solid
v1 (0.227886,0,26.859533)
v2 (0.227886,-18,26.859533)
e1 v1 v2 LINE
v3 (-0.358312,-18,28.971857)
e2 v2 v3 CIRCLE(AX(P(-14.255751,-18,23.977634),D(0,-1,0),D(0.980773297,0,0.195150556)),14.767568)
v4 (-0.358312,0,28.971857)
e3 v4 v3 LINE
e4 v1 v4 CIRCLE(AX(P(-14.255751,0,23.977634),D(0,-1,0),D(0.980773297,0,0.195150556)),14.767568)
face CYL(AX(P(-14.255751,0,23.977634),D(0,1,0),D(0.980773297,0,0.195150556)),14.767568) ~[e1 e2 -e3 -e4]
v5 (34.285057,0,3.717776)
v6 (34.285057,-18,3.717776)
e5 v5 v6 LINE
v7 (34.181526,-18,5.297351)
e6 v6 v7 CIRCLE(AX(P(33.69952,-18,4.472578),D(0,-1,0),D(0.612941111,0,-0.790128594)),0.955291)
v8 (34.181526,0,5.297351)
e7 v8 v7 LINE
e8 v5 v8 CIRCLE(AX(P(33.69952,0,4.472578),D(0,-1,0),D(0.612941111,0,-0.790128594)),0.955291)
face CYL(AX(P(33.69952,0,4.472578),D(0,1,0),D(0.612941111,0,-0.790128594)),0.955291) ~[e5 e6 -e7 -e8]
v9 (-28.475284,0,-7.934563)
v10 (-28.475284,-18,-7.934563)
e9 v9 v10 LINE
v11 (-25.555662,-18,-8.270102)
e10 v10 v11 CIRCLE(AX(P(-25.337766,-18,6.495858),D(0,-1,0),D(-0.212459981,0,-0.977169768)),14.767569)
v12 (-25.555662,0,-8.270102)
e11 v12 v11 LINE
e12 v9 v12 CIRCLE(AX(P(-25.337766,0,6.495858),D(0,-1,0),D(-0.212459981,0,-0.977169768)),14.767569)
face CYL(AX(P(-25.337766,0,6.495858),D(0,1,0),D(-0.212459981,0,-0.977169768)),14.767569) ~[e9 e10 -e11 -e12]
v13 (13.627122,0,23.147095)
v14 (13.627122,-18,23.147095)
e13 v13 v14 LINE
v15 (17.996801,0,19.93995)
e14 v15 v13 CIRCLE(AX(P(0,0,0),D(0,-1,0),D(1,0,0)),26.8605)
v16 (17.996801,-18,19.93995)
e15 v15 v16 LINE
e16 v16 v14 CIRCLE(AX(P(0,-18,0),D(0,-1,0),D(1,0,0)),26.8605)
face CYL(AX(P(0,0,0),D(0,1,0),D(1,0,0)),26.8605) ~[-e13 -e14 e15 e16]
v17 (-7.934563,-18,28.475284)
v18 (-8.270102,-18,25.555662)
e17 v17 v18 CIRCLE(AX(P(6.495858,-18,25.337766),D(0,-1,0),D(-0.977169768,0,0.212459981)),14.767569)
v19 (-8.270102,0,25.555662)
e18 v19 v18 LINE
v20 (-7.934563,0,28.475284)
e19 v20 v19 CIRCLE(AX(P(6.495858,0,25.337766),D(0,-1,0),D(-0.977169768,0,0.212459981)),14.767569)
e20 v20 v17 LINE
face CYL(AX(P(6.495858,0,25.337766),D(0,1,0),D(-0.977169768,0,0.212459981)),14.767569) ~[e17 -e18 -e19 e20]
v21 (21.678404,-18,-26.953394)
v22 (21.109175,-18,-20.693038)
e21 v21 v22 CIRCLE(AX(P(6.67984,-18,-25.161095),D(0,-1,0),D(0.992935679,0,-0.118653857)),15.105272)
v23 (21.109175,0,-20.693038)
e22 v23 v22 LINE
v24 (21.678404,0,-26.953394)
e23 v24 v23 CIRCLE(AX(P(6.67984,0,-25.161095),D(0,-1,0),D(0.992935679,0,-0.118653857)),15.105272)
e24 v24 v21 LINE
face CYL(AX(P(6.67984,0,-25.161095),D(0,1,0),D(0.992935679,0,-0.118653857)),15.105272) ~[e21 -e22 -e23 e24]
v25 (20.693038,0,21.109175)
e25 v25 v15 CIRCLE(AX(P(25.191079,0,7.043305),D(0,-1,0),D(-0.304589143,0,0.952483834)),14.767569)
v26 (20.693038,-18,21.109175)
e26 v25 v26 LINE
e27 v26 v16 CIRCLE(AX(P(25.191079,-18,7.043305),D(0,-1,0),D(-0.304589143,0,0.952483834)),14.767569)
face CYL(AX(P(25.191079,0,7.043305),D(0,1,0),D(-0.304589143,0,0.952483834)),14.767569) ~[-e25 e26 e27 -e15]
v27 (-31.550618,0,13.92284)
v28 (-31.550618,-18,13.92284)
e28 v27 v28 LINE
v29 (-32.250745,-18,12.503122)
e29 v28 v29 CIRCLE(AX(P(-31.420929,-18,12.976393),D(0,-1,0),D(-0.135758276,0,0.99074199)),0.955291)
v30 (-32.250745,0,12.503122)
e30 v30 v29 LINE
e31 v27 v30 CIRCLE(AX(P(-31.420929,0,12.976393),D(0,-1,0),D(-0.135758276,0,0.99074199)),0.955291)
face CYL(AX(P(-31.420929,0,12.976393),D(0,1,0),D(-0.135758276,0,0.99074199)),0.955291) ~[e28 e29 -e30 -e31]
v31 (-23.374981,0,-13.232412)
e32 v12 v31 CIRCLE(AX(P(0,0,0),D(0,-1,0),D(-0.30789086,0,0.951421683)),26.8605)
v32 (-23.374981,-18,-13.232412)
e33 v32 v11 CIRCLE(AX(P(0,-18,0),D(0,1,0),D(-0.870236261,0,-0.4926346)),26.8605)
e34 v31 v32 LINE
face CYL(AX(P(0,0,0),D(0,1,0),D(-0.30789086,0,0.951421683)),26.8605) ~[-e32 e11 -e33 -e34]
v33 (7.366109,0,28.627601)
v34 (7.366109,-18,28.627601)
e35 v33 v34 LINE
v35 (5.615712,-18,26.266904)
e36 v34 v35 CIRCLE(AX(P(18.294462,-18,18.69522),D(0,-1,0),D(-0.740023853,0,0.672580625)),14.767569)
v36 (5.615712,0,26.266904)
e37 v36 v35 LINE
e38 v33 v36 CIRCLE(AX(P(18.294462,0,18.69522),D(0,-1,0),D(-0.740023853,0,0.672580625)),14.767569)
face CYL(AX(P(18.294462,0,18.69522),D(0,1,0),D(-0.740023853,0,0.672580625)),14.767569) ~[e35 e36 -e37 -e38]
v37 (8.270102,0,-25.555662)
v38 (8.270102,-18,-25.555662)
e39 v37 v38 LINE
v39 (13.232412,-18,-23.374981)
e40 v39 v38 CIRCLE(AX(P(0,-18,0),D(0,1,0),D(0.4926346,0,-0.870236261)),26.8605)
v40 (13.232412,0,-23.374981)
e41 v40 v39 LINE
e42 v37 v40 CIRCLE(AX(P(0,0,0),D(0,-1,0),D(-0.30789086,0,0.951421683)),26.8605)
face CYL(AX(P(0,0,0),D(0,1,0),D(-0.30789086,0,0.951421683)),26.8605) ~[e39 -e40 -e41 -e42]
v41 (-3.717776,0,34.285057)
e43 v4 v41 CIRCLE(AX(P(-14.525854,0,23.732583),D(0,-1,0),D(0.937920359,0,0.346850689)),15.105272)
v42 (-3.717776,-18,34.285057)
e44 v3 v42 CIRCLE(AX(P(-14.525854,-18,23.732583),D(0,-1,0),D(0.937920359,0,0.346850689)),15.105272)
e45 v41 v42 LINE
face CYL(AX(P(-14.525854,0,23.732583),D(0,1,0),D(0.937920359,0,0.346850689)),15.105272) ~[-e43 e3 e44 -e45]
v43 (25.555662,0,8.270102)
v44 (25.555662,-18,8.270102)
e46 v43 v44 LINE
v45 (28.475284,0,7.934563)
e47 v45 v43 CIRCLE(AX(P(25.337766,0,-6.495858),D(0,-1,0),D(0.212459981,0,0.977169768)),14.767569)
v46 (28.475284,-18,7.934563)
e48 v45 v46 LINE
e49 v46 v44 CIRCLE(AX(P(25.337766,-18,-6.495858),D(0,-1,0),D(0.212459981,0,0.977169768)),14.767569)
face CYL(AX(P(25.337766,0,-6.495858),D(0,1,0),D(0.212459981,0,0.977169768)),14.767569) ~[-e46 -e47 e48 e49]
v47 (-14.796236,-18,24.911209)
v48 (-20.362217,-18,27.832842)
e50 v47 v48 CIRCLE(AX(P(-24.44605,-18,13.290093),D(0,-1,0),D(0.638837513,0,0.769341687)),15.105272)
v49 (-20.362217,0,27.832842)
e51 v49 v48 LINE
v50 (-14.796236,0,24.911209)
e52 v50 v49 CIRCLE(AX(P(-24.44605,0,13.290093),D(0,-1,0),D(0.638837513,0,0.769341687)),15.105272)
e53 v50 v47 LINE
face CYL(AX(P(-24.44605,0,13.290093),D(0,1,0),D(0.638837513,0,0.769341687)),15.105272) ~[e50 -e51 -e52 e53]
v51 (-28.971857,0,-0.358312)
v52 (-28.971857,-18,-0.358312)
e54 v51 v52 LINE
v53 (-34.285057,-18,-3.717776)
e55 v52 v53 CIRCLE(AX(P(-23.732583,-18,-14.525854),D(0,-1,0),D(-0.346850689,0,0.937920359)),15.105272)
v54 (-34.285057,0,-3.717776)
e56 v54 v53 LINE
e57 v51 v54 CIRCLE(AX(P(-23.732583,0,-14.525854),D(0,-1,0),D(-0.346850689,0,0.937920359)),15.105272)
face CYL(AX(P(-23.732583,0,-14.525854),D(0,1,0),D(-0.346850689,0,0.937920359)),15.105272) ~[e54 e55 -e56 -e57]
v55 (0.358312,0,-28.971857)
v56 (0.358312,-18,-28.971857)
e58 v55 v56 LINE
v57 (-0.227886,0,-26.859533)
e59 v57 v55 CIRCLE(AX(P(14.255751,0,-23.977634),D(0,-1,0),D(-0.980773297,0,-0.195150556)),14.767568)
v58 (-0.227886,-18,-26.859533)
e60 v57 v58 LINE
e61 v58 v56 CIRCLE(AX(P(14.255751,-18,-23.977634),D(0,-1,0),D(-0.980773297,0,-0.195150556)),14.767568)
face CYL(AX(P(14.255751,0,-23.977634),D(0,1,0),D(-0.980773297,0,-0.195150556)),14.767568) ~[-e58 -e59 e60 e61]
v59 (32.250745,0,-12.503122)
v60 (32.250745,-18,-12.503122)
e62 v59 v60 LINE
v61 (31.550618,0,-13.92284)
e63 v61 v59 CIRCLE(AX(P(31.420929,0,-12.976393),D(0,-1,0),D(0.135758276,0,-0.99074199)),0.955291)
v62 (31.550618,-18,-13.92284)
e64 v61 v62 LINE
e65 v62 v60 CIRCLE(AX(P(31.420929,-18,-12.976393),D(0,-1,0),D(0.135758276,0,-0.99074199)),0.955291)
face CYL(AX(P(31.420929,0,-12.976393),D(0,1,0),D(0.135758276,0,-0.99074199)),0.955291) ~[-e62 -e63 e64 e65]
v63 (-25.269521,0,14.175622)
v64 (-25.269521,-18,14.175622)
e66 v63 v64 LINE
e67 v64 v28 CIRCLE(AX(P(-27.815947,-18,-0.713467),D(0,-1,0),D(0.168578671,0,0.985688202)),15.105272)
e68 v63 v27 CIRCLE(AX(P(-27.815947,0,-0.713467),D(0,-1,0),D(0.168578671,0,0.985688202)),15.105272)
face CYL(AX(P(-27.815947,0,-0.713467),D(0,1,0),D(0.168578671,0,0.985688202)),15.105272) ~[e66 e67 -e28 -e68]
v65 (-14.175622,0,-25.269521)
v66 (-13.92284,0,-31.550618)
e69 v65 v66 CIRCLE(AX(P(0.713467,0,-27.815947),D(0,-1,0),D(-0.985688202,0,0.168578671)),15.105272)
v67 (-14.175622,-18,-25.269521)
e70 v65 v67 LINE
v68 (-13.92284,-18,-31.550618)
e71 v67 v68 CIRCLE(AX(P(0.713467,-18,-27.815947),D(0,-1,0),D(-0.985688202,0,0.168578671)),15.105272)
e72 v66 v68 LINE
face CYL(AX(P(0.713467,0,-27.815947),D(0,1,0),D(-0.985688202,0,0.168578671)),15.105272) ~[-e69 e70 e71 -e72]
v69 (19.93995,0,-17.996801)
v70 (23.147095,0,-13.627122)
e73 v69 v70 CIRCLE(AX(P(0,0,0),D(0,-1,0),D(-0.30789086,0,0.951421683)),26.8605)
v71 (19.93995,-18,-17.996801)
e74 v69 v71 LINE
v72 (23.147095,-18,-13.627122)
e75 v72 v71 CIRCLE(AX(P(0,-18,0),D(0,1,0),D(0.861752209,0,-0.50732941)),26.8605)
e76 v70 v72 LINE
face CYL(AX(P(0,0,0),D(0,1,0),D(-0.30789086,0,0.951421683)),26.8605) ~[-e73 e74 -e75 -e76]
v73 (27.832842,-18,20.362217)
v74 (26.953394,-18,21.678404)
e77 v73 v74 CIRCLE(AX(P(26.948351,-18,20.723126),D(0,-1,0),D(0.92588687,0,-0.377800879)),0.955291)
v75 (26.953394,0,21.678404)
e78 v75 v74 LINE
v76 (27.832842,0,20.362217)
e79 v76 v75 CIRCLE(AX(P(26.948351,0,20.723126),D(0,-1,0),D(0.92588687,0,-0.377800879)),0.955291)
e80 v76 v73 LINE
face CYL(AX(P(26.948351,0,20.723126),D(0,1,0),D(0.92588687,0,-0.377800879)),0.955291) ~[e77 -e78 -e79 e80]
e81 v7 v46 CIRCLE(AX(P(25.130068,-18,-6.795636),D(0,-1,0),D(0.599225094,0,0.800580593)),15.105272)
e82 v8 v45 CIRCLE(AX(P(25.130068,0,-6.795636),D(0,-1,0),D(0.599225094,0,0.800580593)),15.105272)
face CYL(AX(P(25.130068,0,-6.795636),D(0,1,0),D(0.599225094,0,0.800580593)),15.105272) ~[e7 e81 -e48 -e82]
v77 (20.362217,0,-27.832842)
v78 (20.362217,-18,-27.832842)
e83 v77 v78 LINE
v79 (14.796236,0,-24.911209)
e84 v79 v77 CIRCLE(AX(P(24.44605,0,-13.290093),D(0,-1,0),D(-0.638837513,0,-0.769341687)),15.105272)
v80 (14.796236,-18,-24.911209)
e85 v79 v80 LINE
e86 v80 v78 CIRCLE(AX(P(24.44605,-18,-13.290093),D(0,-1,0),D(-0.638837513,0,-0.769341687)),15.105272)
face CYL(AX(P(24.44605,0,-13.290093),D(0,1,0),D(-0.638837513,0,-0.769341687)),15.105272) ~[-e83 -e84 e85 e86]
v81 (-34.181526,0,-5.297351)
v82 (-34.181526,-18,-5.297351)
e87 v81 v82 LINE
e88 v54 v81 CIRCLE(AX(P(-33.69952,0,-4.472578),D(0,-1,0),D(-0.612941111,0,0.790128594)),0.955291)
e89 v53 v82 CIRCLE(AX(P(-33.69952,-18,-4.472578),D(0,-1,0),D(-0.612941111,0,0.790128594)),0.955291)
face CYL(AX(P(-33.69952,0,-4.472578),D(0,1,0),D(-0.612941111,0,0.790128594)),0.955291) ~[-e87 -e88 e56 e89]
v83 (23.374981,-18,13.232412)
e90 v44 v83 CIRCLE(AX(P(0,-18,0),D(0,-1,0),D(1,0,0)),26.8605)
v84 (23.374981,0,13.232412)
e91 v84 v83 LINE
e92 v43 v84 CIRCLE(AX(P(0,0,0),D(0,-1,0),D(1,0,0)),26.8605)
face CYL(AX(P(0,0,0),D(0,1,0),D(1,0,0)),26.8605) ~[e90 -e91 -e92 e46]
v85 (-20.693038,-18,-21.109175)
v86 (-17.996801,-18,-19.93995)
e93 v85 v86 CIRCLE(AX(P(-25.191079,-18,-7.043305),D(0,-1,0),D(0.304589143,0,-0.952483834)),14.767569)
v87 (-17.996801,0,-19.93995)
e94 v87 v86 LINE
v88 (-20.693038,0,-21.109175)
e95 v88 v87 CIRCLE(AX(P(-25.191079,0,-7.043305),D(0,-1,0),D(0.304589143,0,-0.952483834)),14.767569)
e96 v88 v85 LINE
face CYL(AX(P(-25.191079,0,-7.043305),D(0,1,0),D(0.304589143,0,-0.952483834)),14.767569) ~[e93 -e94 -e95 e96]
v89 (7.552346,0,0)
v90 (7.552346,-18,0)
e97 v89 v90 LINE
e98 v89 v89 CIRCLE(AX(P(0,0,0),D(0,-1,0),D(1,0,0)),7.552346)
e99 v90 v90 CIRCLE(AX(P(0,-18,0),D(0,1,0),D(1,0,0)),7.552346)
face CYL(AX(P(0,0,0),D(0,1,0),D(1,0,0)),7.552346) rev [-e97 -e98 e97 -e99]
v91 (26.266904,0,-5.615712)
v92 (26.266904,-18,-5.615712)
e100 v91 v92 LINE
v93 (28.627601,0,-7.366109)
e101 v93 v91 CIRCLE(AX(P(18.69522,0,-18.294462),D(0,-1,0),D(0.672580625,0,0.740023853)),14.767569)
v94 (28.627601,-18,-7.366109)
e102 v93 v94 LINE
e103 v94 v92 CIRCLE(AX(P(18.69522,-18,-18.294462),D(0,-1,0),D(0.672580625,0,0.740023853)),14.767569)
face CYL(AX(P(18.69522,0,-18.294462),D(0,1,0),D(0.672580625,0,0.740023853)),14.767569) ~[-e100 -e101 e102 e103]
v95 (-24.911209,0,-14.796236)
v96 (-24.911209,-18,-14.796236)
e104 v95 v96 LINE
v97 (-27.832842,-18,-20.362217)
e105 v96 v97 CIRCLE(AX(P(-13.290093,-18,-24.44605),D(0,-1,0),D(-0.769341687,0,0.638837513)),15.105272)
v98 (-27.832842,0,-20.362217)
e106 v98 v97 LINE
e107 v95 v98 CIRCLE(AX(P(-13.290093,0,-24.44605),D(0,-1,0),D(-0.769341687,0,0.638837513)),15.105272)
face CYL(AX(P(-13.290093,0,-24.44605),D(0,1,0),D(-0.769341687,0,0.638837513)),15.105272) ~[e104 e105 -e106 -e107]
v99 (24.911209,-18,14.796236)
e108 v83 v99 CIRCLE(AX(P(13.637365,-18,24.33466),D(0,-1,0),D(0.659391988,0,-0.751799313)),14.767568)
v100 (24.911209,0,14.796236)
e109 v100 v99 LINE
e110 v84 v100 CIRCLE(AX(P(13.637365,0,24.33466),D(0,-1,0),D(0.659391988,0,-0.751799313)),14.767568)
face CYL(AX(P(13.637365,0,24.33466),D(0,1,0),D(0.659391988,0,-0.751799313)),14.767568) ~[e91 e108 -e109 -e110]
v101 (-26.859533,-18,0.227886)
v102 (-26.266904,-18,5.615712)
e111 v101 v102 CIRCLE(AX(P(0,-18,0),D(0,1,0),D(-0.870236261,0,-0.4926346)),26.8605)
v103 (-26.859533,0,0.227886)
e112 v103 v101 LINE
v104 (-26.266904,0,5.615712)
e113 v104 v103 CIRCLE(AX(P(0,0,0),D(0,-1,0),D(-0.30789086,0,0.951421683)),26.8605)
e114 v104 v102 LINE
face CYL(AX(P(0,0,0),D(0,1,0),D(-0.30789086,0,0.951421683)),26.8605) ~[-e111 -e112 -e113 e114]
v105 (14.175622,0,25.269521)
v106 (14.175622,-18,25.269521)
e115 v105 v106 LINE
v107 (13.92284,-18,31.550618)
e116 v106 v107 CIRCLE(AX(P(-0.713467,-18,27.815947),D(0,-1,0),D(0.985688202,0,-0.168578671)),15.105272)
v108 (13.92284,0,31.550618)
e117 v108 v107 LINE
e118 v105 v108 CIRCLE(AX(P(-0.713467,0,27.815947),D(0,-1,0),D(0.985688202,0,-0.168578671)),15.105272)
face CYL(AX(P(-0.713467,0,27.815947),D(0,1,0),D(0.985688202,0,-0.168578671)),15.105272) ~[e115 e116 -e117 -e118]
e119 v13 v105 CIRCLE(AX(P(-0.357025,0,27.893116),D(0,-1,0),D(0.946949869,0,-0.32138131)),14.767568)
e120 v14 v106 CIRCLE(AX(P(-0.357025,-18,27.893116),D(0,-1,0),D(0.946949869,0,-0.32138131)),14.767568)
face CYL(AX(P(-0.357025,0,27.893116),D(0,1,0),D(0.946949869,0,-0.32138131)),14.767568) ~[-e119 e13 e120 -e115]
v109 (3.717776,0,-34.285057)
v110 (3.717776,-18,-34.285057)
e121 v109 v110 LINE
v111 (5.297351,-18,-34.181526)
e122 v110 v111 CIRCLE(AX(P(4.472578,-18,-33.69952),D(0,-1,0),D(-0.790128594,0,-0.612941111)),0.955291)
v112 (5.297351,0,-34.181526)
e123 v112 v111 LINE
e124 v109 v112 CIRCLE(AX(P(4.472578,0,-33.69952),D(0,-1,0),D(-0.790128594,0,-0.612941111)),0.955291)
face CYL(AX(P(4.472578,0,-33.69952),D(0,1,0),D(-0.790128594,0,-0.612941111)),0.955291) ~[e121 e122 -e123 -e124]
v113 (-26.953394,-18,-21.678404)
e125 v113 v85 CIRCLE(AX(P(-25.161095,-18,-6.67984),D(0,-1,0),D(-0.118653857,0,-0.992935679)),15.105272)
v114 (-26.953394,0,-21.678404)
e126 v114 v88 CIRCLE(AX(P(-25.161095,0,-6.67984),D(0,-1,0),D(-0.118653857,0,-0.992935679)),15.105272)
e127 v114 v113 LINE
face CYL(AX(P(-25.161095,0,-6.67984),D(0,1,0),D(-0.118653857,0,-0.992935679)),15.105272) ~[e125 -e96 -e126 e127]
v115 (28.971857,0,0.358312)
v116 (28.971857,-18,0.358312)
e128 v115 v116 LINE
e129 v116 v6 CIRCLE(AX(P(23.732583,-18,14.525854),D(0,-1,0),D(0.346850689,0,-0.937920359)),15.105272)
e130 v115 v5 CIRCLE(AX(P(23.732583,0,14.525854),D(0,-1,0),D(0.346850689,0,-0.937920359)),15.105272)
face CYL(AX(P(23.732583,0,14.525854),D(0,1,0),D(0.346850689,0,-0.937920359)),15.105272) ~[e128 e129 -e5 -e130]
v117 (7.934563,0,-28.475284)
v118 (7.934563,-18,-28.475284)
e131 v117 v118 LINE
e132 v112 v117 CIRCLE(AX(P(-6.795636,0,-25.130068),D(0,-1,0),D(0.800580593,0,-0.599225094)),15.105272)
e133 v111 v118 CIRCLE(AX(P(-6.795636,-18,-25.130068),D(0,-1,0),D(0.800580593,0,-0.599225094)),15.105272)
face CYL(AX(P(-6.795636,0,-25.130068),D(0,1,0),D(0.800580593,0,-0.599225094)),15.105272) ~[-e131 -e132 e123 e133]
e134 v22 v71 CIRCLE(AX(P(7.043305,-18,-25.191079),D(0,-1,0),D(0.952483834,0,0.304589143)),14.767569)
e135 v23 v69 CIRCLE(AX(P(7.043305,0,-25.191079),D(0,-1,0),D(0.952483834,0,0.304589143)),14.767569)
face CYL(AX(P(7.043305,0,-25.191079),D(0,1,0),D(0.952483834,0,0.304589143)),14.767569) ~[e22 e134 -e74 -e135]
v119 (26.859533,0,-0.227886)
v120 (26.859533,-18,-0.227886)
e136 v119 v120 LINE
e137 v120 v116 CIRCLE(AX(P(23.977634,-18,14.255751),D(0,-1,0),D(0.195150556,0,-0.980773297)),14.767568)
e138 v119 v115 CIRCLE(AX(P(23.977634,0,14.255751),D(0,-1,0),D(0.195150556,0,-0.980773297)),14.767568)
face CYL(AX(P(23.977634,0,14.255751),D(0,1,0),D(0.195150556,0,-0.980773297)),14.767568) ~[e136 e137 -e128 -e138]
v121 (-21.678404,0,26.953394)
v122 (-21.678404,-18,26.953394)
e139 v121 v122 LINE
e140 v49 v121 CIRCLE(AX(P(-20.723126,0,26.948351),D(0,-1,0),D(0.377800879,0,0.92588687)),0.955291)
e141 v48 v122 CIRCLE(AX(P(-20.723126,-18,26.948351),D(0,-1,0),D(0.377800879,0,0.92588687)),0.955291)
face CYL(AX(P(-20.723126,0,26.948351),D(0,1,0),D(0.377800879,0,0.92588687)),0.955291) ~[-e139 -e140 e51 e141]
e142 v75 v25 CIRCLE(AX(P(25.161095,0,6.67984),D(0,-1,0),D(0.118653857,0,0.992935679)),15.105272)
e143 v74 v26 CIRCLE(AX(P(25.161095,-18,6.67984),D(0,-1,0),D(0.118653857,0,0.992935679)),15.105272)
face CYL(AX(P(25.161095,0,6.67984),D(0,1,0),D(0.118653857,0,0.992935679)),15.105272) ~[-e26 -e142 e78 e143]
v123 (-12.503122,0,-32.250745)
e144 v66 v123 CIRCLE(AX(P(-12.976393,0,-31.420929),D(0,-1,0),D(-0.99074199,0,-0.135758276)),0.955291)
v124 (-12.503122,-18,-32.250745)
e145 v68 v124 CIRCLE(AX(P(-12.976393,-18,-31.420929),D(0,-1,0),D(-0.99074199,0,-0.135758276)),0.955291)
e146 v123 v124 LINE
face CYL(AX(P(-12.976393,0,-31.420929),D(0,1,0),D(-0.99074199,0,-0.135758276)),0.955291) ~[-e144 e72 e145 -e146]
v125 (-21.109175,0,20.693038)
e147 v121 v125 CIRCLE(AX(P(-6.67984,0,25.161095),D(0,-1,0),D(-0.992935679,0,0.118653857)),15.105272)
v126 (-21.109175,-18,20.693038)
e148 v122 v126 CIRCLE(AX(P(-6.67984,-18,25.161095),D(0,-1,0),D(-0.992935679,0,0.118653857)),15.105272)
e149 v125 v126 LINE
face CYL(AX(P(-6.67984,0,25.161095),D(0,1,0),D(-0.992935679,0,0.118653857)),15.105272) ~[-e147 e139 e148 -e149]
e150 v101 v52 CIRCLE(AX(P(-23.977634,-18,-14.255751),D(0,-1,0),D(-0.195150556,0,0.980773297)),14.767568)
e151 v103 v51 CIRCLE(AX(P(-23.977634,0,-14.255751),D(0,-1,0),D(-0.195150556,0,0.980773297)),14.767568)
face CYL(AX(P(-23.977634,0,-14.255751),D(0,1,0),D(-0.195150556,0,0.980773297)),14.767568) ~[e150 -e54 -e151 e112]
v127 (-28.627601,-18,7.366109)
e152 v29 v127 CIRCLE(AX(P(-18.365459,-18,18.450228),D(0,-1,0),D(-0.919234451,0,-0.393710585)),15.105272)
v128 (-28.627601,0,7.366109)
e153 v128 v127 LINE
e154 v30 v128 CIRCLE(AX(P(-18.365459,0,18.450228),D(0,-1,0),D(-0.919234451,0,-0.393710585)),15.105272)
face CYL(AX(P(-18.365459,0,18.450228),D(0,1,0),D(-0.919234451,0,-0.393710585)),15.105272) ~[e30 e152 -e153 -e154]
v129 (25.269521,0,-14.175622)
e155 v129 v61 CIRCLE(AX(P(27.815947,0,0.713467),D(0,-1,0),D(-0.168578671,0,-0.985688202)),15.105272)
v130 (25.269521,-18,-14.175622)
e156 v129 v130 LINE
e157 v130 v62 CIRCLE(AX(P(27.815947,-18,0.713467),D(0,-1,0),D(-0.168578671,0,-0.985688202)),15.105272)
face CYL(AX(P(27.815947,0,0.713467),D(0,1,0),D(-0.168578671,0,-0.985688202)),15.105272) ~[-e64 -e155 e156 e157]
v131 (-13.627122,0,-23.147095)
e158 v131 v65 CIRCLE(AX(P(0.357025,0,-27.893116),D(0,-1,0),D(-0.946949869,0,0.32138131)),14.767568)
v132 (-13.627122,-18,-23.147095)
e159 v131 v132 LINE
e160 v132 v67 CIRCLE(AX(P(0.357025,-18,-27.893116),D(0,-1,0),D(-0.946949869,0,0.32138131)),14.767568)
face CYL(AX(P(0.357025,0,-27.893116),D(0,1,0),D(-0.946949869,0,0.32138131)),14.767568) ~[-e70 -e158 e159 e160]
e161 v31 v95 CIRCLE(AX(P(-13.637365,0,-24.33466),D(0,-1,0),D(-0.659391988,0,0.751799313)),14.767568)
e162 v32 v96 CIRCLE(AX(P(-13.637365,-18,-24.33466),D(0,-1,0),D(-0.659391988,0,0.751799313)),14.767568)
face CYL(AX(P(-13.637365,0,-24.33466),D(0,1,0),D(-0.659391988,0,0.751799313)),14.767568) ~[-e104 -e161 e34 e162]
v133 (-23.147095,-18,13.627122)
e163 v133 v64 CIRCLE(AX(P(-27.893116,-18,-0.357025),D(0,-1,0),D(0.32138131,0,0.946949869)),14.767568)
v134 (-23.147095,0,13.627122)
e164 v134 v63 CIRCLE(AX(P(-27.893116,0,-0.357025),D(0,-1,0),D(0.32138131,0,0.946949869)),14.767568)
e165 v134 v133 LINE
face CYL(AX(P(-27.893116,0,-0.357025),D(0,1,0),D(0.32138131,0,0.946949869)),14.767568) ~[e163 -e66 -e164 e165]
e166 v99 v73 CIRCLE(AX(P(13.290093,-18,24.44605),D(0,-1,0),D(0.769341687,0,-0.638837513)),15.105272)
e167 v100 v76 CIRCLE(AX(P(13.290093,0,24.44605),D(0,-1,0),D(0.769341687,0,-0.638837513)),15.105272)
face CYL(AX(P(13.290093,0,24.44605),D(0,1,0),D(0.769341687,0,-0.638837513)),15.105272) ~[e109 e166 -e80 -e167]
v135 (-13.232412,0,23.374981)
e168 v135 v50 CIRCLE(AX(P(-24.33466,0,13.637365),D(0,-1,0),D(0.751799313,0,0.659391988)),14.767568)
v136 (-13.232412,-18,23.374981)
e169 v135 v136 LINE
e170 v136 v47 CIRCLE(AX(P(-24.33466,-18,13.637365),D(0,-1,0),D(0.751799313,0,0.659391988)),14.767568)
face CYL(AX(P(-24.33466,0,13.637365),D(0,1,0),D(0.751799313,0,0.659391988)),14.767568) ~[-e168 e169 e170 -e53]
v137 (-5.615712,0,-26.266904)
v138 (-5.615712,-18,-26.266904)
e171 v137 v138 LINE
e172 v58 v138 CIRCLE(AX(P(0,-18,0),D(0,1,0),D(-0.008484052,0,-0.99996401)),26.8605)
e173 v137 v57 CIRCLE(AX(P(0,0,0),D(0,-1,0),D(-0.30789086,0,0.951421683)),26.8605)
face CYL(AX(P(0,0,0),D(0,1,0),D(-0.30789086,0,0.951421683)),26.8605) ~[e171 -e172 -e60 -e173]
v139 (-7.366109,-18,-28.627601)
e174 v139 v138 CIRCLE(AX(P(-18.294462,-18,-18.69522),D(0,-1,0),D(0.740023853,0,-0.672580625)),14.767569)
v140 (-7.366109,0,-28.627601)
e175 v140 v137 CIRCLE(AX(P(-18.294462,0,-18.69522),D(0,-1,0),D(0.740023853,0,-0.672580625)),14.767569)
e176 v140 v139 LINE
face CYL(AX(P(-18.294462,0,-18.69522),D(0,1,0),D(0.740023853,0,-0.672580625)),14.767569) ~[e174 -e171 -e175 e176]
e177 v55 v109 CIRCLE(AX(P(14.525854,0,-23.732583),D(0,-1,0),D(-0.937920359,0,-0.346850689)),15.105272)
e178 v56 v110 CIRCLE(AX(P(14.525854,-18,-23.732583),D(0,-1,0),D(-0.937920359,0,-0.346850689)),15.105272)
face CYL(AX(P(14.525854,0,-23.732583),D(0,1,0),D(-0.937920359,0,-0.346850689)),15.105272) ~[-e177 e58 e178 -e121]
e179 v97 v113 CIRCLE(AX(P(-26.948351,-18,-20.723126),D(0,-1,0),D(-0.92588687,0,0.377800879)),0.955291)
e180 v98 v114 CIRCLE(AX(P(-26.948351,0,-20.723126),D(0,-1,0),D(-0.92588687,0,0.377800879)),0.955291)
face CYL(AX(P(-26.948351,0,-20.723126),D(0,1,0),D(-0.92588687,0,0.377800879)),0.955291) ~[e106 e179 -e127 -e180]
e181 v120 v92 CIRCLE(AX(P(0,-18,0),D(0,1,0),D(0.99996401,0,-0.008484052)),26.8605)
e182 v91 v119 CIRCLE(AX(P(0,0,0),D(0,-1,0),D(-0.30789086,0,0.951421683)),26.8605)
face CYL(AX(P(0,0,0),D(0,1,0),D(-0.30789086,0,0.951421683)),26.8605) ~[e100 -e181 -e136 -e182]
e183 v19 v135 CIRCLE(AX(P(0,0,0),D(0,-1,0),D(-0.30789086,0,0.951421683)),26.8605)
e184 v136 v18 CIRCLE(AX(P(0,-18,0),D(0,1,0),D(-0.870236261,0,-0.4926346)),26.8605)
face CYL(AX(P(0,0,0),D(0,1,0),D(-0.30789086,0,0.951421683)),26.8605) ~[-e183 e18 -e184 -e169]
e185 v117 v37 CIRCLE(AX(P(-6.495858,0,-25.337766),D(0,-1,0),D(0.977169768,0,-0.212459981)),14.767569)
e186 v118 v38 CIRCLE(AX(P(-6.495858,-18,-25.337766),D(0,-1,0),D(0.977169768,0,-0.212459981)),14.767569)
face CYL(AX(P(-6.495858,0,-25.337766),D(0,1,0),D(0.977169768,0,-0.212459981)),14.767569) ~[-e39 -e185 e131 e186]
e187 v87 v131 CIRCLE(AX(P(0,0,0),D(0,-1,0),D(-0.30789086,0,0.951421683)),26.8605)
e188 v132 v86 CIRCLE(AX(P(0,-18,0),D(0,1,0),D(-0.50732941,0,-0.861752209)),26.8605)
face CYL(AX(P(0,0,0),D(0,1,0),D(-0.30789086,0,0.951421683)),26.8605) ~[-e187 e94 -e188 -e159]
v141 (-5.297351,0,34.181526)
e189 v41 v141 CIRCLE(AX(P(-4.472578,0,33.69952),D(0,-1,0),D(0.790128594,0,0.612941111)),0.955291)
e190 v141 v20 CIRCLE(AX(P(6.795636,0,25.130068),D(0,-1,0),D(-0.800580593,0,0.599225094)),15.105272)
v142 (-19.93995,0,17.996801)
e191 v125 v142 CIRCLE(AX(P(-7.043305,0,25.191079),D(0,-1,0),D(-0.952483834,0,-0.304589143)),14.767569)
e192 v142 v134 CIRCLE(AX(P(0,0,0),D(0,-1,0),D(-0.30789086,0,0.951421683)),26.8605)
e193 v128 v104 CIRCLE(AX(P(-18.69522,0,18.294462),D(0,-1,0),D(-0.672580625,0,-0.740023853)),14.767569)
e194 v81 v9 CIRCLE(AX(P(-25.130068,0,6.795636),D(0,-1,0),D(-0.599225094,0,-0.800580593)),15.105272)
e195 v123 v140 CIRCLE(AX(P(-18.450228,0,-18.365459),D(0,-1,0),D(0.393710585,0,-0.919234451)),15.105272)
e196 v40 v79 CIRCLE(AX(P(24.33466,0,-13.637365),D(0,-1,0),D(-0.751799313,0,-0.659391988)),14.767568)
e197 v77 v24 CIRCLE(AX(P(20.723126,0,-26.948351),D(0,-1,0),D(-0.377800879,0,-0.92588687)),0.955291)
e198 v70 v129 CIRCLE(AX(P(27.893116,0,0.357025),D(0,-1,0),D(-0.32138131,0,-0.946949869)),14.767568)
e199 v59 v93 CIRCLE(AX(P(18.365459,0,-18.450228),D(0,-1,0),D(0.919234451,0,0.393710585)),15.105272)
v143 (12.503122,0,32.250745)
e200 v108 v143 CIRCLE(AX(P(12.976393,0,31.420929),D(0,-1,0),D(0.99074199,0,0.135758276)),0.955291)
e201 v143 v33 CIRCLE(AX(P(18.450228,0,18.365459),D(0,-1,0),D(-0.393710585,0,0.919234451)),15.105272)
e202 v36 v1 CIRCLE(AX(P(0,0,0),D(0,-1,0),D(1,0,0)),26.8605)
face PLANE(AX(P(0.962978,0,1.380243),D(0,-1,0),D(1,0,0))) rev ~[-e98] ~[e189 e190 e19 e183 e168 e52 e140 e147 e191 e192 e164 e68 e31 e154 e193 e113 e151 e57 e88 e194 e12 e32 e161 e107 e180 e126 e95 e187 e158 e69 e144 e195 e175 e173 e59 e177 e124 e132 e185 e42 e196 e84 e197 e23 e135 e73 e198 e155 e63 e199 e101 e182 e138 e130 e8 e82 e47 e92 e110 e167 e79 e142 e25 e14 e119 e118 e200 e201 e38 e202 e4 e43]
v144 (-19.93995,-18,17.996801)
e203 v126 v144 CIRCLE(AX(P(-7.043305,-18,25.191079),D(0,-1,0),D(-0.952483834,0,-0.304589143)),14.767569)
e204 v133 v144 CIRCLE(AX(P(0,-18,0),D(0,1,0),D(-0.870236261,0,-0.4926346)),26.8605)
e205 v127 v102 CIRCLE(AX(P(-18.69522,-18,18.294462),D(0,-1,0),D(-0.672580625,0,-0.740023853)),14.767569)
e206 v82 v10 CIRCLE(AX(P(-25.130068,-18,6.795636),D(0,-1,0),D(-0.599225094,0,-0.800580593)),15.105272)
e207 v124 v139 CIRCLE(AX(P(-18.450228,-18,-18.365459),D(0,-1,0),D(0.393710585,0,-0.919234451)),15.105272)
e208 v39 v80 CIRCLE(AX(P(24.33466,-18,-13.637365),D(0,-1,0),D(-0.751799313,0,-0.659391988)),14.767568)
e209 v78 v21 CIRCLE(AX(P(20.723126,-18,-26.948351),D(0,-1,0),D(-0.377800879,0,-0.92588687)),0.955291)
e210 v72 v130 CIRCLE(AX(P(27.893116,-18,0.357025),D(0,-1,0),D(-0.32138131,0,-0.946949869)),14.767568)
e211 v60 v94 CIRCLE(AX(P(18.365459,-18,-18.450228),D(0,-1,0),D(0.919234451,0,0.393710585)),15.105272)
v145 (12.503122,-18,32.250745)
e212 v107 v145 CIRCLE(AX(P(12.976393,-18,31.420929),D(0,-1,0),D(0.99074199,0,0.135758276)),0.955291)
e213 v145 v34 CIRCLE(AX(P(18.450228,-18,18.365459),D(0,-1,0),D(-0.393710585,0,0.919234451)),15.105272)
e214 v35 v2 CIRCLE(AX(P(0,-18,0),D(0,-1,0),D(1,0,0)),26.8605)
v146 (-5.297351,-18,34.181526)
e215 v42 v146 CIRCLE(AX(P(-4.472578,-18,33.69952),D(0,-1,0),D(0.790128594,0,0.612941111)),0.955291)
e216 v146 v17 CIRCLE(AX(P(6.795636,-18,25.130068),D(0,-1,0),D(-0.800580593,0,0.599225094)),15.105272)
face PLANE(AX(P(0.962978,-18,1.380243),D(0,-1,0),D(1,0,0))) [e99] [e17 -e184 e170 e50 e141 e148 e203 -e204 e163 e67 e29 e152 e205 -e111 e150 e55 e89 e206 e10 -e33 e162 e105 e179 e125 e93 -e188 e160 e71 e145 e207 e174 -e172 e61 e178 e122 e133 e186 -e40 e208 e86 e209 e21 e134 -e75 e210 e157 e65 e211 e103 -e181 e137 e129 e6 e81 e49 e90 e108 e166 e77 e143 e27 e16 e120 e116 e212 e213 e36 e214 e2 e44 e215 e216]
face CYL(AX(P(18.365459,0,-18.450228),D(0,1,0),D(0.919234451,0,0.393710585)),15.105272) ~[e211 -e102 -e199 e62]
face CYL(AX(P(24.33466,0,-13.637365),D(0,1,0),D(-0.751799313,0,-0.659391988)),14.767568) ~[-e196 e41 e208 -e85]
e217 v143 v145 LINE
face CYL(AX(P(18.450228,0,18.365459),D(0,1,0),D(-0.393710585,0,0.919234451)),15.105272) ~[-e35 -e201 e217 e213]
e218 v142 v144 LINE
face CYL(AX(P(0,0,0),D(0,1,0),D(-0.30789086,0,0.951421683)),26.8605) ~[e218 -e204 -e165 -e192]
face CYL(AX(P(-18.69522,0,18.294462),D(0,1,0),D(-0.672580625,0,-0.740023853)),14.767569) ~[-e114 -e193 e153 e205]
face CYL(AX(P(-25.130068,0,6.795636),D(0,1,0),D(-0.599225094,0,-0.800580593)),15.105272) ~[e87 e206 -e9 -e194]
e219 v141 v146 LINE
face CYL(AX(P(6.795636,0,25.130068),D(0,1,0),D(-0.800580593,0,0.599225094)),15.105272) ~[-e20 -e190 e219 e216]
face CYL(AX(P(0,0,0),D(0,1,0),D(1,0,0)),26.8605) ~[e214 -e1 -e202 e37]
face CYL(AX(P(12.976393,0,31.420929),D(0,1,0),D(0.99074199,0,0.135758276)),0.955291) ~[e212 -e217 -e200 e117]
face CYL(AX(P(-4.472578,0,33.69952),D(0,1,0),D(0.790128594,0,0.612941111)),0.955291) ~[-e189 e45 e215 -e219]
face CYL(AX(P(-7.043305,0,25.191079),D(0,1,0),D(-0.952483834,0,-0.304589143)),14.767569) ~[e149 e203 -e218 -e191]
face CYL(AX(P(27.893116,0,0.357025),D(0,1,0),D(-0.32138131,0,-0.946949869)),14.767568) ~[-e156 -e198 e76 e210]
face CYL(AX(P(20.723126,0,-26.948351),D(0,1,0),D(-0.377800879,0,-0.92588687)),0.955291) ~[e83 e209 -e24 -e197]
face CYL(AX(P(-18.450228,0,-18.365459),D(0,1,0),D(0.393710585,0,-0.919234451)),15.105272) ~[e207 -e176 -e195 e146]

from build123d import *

# Parameters (mm, degrees)
F0_R     = 7.5523457901
F1_DEPTH = 18
F2_COUNT = 12


with BuildPart() as f1:
    # F0 (on Front) → F1 (new body)
    with BuildSketch(Plane.XZ):
        with BuildLine():
            ThreePointArc((-8.2701024402, 25.55566211), (-15.8010660029, -21.7212516541), (26.8605, 0))
            ThreePointArc((26.8605, 0), (19.0736413542, 18.9125002509), (0.2278858833, 26.8595332847))
            ThreePointArc((0.2278858833, 26.8595332847), (-4.0736140952, 26.5498046782), (-8.2701024402, 25.55566211))
        make_face()
        Circle(F0_R, mode=Mode.SUBTRACT)
        with BuildLine():
            ThreePointArc((-8.2701024402, 25.55566211), (-4.0736140952, 26.5498046782), (0.2278858833, 26.8595332847))
            ThreePointArc((0.2278858833, 26.8595332847), (-0.0259637004, 27.9265875849), (-0.3583119198, 28.971857479))
            ThreePointArc((-0.3583119198, 28.971857479), (-1.7585942686, 31.8051493547), (-3.7177759967, 34.2850567048))
            ThreePointArc((-3.7177759967, 34.2850567048), (-4.5350574201, 34.6527650776), (-5.2973513139, 34.1815258688))
            ThreePointArc((-5.2973513139, 34.1815258688), (-6.9160791073, 31.467109939), (-7.9345630465, 28.475283745))
            ThreePointArc((-7.9345630465, 28.475283745), (-8.1751413026, 27.023840498), (-8.2701024402, 25.55566211))
        make_face()
    extrude(amount=F1_DEPTH)

    # F2: F1 ×12 about axis
    f2_axis = Axis((0, 0, 0), (0, 1, 0))


with BuildPart() as f1_1:
    add(f1.part)
    for i in range(1, F2_COUNT):
        add(f1.part.rotate(f2_axis, i * 360 / F2_COUNT))


solid = f1_1.part
